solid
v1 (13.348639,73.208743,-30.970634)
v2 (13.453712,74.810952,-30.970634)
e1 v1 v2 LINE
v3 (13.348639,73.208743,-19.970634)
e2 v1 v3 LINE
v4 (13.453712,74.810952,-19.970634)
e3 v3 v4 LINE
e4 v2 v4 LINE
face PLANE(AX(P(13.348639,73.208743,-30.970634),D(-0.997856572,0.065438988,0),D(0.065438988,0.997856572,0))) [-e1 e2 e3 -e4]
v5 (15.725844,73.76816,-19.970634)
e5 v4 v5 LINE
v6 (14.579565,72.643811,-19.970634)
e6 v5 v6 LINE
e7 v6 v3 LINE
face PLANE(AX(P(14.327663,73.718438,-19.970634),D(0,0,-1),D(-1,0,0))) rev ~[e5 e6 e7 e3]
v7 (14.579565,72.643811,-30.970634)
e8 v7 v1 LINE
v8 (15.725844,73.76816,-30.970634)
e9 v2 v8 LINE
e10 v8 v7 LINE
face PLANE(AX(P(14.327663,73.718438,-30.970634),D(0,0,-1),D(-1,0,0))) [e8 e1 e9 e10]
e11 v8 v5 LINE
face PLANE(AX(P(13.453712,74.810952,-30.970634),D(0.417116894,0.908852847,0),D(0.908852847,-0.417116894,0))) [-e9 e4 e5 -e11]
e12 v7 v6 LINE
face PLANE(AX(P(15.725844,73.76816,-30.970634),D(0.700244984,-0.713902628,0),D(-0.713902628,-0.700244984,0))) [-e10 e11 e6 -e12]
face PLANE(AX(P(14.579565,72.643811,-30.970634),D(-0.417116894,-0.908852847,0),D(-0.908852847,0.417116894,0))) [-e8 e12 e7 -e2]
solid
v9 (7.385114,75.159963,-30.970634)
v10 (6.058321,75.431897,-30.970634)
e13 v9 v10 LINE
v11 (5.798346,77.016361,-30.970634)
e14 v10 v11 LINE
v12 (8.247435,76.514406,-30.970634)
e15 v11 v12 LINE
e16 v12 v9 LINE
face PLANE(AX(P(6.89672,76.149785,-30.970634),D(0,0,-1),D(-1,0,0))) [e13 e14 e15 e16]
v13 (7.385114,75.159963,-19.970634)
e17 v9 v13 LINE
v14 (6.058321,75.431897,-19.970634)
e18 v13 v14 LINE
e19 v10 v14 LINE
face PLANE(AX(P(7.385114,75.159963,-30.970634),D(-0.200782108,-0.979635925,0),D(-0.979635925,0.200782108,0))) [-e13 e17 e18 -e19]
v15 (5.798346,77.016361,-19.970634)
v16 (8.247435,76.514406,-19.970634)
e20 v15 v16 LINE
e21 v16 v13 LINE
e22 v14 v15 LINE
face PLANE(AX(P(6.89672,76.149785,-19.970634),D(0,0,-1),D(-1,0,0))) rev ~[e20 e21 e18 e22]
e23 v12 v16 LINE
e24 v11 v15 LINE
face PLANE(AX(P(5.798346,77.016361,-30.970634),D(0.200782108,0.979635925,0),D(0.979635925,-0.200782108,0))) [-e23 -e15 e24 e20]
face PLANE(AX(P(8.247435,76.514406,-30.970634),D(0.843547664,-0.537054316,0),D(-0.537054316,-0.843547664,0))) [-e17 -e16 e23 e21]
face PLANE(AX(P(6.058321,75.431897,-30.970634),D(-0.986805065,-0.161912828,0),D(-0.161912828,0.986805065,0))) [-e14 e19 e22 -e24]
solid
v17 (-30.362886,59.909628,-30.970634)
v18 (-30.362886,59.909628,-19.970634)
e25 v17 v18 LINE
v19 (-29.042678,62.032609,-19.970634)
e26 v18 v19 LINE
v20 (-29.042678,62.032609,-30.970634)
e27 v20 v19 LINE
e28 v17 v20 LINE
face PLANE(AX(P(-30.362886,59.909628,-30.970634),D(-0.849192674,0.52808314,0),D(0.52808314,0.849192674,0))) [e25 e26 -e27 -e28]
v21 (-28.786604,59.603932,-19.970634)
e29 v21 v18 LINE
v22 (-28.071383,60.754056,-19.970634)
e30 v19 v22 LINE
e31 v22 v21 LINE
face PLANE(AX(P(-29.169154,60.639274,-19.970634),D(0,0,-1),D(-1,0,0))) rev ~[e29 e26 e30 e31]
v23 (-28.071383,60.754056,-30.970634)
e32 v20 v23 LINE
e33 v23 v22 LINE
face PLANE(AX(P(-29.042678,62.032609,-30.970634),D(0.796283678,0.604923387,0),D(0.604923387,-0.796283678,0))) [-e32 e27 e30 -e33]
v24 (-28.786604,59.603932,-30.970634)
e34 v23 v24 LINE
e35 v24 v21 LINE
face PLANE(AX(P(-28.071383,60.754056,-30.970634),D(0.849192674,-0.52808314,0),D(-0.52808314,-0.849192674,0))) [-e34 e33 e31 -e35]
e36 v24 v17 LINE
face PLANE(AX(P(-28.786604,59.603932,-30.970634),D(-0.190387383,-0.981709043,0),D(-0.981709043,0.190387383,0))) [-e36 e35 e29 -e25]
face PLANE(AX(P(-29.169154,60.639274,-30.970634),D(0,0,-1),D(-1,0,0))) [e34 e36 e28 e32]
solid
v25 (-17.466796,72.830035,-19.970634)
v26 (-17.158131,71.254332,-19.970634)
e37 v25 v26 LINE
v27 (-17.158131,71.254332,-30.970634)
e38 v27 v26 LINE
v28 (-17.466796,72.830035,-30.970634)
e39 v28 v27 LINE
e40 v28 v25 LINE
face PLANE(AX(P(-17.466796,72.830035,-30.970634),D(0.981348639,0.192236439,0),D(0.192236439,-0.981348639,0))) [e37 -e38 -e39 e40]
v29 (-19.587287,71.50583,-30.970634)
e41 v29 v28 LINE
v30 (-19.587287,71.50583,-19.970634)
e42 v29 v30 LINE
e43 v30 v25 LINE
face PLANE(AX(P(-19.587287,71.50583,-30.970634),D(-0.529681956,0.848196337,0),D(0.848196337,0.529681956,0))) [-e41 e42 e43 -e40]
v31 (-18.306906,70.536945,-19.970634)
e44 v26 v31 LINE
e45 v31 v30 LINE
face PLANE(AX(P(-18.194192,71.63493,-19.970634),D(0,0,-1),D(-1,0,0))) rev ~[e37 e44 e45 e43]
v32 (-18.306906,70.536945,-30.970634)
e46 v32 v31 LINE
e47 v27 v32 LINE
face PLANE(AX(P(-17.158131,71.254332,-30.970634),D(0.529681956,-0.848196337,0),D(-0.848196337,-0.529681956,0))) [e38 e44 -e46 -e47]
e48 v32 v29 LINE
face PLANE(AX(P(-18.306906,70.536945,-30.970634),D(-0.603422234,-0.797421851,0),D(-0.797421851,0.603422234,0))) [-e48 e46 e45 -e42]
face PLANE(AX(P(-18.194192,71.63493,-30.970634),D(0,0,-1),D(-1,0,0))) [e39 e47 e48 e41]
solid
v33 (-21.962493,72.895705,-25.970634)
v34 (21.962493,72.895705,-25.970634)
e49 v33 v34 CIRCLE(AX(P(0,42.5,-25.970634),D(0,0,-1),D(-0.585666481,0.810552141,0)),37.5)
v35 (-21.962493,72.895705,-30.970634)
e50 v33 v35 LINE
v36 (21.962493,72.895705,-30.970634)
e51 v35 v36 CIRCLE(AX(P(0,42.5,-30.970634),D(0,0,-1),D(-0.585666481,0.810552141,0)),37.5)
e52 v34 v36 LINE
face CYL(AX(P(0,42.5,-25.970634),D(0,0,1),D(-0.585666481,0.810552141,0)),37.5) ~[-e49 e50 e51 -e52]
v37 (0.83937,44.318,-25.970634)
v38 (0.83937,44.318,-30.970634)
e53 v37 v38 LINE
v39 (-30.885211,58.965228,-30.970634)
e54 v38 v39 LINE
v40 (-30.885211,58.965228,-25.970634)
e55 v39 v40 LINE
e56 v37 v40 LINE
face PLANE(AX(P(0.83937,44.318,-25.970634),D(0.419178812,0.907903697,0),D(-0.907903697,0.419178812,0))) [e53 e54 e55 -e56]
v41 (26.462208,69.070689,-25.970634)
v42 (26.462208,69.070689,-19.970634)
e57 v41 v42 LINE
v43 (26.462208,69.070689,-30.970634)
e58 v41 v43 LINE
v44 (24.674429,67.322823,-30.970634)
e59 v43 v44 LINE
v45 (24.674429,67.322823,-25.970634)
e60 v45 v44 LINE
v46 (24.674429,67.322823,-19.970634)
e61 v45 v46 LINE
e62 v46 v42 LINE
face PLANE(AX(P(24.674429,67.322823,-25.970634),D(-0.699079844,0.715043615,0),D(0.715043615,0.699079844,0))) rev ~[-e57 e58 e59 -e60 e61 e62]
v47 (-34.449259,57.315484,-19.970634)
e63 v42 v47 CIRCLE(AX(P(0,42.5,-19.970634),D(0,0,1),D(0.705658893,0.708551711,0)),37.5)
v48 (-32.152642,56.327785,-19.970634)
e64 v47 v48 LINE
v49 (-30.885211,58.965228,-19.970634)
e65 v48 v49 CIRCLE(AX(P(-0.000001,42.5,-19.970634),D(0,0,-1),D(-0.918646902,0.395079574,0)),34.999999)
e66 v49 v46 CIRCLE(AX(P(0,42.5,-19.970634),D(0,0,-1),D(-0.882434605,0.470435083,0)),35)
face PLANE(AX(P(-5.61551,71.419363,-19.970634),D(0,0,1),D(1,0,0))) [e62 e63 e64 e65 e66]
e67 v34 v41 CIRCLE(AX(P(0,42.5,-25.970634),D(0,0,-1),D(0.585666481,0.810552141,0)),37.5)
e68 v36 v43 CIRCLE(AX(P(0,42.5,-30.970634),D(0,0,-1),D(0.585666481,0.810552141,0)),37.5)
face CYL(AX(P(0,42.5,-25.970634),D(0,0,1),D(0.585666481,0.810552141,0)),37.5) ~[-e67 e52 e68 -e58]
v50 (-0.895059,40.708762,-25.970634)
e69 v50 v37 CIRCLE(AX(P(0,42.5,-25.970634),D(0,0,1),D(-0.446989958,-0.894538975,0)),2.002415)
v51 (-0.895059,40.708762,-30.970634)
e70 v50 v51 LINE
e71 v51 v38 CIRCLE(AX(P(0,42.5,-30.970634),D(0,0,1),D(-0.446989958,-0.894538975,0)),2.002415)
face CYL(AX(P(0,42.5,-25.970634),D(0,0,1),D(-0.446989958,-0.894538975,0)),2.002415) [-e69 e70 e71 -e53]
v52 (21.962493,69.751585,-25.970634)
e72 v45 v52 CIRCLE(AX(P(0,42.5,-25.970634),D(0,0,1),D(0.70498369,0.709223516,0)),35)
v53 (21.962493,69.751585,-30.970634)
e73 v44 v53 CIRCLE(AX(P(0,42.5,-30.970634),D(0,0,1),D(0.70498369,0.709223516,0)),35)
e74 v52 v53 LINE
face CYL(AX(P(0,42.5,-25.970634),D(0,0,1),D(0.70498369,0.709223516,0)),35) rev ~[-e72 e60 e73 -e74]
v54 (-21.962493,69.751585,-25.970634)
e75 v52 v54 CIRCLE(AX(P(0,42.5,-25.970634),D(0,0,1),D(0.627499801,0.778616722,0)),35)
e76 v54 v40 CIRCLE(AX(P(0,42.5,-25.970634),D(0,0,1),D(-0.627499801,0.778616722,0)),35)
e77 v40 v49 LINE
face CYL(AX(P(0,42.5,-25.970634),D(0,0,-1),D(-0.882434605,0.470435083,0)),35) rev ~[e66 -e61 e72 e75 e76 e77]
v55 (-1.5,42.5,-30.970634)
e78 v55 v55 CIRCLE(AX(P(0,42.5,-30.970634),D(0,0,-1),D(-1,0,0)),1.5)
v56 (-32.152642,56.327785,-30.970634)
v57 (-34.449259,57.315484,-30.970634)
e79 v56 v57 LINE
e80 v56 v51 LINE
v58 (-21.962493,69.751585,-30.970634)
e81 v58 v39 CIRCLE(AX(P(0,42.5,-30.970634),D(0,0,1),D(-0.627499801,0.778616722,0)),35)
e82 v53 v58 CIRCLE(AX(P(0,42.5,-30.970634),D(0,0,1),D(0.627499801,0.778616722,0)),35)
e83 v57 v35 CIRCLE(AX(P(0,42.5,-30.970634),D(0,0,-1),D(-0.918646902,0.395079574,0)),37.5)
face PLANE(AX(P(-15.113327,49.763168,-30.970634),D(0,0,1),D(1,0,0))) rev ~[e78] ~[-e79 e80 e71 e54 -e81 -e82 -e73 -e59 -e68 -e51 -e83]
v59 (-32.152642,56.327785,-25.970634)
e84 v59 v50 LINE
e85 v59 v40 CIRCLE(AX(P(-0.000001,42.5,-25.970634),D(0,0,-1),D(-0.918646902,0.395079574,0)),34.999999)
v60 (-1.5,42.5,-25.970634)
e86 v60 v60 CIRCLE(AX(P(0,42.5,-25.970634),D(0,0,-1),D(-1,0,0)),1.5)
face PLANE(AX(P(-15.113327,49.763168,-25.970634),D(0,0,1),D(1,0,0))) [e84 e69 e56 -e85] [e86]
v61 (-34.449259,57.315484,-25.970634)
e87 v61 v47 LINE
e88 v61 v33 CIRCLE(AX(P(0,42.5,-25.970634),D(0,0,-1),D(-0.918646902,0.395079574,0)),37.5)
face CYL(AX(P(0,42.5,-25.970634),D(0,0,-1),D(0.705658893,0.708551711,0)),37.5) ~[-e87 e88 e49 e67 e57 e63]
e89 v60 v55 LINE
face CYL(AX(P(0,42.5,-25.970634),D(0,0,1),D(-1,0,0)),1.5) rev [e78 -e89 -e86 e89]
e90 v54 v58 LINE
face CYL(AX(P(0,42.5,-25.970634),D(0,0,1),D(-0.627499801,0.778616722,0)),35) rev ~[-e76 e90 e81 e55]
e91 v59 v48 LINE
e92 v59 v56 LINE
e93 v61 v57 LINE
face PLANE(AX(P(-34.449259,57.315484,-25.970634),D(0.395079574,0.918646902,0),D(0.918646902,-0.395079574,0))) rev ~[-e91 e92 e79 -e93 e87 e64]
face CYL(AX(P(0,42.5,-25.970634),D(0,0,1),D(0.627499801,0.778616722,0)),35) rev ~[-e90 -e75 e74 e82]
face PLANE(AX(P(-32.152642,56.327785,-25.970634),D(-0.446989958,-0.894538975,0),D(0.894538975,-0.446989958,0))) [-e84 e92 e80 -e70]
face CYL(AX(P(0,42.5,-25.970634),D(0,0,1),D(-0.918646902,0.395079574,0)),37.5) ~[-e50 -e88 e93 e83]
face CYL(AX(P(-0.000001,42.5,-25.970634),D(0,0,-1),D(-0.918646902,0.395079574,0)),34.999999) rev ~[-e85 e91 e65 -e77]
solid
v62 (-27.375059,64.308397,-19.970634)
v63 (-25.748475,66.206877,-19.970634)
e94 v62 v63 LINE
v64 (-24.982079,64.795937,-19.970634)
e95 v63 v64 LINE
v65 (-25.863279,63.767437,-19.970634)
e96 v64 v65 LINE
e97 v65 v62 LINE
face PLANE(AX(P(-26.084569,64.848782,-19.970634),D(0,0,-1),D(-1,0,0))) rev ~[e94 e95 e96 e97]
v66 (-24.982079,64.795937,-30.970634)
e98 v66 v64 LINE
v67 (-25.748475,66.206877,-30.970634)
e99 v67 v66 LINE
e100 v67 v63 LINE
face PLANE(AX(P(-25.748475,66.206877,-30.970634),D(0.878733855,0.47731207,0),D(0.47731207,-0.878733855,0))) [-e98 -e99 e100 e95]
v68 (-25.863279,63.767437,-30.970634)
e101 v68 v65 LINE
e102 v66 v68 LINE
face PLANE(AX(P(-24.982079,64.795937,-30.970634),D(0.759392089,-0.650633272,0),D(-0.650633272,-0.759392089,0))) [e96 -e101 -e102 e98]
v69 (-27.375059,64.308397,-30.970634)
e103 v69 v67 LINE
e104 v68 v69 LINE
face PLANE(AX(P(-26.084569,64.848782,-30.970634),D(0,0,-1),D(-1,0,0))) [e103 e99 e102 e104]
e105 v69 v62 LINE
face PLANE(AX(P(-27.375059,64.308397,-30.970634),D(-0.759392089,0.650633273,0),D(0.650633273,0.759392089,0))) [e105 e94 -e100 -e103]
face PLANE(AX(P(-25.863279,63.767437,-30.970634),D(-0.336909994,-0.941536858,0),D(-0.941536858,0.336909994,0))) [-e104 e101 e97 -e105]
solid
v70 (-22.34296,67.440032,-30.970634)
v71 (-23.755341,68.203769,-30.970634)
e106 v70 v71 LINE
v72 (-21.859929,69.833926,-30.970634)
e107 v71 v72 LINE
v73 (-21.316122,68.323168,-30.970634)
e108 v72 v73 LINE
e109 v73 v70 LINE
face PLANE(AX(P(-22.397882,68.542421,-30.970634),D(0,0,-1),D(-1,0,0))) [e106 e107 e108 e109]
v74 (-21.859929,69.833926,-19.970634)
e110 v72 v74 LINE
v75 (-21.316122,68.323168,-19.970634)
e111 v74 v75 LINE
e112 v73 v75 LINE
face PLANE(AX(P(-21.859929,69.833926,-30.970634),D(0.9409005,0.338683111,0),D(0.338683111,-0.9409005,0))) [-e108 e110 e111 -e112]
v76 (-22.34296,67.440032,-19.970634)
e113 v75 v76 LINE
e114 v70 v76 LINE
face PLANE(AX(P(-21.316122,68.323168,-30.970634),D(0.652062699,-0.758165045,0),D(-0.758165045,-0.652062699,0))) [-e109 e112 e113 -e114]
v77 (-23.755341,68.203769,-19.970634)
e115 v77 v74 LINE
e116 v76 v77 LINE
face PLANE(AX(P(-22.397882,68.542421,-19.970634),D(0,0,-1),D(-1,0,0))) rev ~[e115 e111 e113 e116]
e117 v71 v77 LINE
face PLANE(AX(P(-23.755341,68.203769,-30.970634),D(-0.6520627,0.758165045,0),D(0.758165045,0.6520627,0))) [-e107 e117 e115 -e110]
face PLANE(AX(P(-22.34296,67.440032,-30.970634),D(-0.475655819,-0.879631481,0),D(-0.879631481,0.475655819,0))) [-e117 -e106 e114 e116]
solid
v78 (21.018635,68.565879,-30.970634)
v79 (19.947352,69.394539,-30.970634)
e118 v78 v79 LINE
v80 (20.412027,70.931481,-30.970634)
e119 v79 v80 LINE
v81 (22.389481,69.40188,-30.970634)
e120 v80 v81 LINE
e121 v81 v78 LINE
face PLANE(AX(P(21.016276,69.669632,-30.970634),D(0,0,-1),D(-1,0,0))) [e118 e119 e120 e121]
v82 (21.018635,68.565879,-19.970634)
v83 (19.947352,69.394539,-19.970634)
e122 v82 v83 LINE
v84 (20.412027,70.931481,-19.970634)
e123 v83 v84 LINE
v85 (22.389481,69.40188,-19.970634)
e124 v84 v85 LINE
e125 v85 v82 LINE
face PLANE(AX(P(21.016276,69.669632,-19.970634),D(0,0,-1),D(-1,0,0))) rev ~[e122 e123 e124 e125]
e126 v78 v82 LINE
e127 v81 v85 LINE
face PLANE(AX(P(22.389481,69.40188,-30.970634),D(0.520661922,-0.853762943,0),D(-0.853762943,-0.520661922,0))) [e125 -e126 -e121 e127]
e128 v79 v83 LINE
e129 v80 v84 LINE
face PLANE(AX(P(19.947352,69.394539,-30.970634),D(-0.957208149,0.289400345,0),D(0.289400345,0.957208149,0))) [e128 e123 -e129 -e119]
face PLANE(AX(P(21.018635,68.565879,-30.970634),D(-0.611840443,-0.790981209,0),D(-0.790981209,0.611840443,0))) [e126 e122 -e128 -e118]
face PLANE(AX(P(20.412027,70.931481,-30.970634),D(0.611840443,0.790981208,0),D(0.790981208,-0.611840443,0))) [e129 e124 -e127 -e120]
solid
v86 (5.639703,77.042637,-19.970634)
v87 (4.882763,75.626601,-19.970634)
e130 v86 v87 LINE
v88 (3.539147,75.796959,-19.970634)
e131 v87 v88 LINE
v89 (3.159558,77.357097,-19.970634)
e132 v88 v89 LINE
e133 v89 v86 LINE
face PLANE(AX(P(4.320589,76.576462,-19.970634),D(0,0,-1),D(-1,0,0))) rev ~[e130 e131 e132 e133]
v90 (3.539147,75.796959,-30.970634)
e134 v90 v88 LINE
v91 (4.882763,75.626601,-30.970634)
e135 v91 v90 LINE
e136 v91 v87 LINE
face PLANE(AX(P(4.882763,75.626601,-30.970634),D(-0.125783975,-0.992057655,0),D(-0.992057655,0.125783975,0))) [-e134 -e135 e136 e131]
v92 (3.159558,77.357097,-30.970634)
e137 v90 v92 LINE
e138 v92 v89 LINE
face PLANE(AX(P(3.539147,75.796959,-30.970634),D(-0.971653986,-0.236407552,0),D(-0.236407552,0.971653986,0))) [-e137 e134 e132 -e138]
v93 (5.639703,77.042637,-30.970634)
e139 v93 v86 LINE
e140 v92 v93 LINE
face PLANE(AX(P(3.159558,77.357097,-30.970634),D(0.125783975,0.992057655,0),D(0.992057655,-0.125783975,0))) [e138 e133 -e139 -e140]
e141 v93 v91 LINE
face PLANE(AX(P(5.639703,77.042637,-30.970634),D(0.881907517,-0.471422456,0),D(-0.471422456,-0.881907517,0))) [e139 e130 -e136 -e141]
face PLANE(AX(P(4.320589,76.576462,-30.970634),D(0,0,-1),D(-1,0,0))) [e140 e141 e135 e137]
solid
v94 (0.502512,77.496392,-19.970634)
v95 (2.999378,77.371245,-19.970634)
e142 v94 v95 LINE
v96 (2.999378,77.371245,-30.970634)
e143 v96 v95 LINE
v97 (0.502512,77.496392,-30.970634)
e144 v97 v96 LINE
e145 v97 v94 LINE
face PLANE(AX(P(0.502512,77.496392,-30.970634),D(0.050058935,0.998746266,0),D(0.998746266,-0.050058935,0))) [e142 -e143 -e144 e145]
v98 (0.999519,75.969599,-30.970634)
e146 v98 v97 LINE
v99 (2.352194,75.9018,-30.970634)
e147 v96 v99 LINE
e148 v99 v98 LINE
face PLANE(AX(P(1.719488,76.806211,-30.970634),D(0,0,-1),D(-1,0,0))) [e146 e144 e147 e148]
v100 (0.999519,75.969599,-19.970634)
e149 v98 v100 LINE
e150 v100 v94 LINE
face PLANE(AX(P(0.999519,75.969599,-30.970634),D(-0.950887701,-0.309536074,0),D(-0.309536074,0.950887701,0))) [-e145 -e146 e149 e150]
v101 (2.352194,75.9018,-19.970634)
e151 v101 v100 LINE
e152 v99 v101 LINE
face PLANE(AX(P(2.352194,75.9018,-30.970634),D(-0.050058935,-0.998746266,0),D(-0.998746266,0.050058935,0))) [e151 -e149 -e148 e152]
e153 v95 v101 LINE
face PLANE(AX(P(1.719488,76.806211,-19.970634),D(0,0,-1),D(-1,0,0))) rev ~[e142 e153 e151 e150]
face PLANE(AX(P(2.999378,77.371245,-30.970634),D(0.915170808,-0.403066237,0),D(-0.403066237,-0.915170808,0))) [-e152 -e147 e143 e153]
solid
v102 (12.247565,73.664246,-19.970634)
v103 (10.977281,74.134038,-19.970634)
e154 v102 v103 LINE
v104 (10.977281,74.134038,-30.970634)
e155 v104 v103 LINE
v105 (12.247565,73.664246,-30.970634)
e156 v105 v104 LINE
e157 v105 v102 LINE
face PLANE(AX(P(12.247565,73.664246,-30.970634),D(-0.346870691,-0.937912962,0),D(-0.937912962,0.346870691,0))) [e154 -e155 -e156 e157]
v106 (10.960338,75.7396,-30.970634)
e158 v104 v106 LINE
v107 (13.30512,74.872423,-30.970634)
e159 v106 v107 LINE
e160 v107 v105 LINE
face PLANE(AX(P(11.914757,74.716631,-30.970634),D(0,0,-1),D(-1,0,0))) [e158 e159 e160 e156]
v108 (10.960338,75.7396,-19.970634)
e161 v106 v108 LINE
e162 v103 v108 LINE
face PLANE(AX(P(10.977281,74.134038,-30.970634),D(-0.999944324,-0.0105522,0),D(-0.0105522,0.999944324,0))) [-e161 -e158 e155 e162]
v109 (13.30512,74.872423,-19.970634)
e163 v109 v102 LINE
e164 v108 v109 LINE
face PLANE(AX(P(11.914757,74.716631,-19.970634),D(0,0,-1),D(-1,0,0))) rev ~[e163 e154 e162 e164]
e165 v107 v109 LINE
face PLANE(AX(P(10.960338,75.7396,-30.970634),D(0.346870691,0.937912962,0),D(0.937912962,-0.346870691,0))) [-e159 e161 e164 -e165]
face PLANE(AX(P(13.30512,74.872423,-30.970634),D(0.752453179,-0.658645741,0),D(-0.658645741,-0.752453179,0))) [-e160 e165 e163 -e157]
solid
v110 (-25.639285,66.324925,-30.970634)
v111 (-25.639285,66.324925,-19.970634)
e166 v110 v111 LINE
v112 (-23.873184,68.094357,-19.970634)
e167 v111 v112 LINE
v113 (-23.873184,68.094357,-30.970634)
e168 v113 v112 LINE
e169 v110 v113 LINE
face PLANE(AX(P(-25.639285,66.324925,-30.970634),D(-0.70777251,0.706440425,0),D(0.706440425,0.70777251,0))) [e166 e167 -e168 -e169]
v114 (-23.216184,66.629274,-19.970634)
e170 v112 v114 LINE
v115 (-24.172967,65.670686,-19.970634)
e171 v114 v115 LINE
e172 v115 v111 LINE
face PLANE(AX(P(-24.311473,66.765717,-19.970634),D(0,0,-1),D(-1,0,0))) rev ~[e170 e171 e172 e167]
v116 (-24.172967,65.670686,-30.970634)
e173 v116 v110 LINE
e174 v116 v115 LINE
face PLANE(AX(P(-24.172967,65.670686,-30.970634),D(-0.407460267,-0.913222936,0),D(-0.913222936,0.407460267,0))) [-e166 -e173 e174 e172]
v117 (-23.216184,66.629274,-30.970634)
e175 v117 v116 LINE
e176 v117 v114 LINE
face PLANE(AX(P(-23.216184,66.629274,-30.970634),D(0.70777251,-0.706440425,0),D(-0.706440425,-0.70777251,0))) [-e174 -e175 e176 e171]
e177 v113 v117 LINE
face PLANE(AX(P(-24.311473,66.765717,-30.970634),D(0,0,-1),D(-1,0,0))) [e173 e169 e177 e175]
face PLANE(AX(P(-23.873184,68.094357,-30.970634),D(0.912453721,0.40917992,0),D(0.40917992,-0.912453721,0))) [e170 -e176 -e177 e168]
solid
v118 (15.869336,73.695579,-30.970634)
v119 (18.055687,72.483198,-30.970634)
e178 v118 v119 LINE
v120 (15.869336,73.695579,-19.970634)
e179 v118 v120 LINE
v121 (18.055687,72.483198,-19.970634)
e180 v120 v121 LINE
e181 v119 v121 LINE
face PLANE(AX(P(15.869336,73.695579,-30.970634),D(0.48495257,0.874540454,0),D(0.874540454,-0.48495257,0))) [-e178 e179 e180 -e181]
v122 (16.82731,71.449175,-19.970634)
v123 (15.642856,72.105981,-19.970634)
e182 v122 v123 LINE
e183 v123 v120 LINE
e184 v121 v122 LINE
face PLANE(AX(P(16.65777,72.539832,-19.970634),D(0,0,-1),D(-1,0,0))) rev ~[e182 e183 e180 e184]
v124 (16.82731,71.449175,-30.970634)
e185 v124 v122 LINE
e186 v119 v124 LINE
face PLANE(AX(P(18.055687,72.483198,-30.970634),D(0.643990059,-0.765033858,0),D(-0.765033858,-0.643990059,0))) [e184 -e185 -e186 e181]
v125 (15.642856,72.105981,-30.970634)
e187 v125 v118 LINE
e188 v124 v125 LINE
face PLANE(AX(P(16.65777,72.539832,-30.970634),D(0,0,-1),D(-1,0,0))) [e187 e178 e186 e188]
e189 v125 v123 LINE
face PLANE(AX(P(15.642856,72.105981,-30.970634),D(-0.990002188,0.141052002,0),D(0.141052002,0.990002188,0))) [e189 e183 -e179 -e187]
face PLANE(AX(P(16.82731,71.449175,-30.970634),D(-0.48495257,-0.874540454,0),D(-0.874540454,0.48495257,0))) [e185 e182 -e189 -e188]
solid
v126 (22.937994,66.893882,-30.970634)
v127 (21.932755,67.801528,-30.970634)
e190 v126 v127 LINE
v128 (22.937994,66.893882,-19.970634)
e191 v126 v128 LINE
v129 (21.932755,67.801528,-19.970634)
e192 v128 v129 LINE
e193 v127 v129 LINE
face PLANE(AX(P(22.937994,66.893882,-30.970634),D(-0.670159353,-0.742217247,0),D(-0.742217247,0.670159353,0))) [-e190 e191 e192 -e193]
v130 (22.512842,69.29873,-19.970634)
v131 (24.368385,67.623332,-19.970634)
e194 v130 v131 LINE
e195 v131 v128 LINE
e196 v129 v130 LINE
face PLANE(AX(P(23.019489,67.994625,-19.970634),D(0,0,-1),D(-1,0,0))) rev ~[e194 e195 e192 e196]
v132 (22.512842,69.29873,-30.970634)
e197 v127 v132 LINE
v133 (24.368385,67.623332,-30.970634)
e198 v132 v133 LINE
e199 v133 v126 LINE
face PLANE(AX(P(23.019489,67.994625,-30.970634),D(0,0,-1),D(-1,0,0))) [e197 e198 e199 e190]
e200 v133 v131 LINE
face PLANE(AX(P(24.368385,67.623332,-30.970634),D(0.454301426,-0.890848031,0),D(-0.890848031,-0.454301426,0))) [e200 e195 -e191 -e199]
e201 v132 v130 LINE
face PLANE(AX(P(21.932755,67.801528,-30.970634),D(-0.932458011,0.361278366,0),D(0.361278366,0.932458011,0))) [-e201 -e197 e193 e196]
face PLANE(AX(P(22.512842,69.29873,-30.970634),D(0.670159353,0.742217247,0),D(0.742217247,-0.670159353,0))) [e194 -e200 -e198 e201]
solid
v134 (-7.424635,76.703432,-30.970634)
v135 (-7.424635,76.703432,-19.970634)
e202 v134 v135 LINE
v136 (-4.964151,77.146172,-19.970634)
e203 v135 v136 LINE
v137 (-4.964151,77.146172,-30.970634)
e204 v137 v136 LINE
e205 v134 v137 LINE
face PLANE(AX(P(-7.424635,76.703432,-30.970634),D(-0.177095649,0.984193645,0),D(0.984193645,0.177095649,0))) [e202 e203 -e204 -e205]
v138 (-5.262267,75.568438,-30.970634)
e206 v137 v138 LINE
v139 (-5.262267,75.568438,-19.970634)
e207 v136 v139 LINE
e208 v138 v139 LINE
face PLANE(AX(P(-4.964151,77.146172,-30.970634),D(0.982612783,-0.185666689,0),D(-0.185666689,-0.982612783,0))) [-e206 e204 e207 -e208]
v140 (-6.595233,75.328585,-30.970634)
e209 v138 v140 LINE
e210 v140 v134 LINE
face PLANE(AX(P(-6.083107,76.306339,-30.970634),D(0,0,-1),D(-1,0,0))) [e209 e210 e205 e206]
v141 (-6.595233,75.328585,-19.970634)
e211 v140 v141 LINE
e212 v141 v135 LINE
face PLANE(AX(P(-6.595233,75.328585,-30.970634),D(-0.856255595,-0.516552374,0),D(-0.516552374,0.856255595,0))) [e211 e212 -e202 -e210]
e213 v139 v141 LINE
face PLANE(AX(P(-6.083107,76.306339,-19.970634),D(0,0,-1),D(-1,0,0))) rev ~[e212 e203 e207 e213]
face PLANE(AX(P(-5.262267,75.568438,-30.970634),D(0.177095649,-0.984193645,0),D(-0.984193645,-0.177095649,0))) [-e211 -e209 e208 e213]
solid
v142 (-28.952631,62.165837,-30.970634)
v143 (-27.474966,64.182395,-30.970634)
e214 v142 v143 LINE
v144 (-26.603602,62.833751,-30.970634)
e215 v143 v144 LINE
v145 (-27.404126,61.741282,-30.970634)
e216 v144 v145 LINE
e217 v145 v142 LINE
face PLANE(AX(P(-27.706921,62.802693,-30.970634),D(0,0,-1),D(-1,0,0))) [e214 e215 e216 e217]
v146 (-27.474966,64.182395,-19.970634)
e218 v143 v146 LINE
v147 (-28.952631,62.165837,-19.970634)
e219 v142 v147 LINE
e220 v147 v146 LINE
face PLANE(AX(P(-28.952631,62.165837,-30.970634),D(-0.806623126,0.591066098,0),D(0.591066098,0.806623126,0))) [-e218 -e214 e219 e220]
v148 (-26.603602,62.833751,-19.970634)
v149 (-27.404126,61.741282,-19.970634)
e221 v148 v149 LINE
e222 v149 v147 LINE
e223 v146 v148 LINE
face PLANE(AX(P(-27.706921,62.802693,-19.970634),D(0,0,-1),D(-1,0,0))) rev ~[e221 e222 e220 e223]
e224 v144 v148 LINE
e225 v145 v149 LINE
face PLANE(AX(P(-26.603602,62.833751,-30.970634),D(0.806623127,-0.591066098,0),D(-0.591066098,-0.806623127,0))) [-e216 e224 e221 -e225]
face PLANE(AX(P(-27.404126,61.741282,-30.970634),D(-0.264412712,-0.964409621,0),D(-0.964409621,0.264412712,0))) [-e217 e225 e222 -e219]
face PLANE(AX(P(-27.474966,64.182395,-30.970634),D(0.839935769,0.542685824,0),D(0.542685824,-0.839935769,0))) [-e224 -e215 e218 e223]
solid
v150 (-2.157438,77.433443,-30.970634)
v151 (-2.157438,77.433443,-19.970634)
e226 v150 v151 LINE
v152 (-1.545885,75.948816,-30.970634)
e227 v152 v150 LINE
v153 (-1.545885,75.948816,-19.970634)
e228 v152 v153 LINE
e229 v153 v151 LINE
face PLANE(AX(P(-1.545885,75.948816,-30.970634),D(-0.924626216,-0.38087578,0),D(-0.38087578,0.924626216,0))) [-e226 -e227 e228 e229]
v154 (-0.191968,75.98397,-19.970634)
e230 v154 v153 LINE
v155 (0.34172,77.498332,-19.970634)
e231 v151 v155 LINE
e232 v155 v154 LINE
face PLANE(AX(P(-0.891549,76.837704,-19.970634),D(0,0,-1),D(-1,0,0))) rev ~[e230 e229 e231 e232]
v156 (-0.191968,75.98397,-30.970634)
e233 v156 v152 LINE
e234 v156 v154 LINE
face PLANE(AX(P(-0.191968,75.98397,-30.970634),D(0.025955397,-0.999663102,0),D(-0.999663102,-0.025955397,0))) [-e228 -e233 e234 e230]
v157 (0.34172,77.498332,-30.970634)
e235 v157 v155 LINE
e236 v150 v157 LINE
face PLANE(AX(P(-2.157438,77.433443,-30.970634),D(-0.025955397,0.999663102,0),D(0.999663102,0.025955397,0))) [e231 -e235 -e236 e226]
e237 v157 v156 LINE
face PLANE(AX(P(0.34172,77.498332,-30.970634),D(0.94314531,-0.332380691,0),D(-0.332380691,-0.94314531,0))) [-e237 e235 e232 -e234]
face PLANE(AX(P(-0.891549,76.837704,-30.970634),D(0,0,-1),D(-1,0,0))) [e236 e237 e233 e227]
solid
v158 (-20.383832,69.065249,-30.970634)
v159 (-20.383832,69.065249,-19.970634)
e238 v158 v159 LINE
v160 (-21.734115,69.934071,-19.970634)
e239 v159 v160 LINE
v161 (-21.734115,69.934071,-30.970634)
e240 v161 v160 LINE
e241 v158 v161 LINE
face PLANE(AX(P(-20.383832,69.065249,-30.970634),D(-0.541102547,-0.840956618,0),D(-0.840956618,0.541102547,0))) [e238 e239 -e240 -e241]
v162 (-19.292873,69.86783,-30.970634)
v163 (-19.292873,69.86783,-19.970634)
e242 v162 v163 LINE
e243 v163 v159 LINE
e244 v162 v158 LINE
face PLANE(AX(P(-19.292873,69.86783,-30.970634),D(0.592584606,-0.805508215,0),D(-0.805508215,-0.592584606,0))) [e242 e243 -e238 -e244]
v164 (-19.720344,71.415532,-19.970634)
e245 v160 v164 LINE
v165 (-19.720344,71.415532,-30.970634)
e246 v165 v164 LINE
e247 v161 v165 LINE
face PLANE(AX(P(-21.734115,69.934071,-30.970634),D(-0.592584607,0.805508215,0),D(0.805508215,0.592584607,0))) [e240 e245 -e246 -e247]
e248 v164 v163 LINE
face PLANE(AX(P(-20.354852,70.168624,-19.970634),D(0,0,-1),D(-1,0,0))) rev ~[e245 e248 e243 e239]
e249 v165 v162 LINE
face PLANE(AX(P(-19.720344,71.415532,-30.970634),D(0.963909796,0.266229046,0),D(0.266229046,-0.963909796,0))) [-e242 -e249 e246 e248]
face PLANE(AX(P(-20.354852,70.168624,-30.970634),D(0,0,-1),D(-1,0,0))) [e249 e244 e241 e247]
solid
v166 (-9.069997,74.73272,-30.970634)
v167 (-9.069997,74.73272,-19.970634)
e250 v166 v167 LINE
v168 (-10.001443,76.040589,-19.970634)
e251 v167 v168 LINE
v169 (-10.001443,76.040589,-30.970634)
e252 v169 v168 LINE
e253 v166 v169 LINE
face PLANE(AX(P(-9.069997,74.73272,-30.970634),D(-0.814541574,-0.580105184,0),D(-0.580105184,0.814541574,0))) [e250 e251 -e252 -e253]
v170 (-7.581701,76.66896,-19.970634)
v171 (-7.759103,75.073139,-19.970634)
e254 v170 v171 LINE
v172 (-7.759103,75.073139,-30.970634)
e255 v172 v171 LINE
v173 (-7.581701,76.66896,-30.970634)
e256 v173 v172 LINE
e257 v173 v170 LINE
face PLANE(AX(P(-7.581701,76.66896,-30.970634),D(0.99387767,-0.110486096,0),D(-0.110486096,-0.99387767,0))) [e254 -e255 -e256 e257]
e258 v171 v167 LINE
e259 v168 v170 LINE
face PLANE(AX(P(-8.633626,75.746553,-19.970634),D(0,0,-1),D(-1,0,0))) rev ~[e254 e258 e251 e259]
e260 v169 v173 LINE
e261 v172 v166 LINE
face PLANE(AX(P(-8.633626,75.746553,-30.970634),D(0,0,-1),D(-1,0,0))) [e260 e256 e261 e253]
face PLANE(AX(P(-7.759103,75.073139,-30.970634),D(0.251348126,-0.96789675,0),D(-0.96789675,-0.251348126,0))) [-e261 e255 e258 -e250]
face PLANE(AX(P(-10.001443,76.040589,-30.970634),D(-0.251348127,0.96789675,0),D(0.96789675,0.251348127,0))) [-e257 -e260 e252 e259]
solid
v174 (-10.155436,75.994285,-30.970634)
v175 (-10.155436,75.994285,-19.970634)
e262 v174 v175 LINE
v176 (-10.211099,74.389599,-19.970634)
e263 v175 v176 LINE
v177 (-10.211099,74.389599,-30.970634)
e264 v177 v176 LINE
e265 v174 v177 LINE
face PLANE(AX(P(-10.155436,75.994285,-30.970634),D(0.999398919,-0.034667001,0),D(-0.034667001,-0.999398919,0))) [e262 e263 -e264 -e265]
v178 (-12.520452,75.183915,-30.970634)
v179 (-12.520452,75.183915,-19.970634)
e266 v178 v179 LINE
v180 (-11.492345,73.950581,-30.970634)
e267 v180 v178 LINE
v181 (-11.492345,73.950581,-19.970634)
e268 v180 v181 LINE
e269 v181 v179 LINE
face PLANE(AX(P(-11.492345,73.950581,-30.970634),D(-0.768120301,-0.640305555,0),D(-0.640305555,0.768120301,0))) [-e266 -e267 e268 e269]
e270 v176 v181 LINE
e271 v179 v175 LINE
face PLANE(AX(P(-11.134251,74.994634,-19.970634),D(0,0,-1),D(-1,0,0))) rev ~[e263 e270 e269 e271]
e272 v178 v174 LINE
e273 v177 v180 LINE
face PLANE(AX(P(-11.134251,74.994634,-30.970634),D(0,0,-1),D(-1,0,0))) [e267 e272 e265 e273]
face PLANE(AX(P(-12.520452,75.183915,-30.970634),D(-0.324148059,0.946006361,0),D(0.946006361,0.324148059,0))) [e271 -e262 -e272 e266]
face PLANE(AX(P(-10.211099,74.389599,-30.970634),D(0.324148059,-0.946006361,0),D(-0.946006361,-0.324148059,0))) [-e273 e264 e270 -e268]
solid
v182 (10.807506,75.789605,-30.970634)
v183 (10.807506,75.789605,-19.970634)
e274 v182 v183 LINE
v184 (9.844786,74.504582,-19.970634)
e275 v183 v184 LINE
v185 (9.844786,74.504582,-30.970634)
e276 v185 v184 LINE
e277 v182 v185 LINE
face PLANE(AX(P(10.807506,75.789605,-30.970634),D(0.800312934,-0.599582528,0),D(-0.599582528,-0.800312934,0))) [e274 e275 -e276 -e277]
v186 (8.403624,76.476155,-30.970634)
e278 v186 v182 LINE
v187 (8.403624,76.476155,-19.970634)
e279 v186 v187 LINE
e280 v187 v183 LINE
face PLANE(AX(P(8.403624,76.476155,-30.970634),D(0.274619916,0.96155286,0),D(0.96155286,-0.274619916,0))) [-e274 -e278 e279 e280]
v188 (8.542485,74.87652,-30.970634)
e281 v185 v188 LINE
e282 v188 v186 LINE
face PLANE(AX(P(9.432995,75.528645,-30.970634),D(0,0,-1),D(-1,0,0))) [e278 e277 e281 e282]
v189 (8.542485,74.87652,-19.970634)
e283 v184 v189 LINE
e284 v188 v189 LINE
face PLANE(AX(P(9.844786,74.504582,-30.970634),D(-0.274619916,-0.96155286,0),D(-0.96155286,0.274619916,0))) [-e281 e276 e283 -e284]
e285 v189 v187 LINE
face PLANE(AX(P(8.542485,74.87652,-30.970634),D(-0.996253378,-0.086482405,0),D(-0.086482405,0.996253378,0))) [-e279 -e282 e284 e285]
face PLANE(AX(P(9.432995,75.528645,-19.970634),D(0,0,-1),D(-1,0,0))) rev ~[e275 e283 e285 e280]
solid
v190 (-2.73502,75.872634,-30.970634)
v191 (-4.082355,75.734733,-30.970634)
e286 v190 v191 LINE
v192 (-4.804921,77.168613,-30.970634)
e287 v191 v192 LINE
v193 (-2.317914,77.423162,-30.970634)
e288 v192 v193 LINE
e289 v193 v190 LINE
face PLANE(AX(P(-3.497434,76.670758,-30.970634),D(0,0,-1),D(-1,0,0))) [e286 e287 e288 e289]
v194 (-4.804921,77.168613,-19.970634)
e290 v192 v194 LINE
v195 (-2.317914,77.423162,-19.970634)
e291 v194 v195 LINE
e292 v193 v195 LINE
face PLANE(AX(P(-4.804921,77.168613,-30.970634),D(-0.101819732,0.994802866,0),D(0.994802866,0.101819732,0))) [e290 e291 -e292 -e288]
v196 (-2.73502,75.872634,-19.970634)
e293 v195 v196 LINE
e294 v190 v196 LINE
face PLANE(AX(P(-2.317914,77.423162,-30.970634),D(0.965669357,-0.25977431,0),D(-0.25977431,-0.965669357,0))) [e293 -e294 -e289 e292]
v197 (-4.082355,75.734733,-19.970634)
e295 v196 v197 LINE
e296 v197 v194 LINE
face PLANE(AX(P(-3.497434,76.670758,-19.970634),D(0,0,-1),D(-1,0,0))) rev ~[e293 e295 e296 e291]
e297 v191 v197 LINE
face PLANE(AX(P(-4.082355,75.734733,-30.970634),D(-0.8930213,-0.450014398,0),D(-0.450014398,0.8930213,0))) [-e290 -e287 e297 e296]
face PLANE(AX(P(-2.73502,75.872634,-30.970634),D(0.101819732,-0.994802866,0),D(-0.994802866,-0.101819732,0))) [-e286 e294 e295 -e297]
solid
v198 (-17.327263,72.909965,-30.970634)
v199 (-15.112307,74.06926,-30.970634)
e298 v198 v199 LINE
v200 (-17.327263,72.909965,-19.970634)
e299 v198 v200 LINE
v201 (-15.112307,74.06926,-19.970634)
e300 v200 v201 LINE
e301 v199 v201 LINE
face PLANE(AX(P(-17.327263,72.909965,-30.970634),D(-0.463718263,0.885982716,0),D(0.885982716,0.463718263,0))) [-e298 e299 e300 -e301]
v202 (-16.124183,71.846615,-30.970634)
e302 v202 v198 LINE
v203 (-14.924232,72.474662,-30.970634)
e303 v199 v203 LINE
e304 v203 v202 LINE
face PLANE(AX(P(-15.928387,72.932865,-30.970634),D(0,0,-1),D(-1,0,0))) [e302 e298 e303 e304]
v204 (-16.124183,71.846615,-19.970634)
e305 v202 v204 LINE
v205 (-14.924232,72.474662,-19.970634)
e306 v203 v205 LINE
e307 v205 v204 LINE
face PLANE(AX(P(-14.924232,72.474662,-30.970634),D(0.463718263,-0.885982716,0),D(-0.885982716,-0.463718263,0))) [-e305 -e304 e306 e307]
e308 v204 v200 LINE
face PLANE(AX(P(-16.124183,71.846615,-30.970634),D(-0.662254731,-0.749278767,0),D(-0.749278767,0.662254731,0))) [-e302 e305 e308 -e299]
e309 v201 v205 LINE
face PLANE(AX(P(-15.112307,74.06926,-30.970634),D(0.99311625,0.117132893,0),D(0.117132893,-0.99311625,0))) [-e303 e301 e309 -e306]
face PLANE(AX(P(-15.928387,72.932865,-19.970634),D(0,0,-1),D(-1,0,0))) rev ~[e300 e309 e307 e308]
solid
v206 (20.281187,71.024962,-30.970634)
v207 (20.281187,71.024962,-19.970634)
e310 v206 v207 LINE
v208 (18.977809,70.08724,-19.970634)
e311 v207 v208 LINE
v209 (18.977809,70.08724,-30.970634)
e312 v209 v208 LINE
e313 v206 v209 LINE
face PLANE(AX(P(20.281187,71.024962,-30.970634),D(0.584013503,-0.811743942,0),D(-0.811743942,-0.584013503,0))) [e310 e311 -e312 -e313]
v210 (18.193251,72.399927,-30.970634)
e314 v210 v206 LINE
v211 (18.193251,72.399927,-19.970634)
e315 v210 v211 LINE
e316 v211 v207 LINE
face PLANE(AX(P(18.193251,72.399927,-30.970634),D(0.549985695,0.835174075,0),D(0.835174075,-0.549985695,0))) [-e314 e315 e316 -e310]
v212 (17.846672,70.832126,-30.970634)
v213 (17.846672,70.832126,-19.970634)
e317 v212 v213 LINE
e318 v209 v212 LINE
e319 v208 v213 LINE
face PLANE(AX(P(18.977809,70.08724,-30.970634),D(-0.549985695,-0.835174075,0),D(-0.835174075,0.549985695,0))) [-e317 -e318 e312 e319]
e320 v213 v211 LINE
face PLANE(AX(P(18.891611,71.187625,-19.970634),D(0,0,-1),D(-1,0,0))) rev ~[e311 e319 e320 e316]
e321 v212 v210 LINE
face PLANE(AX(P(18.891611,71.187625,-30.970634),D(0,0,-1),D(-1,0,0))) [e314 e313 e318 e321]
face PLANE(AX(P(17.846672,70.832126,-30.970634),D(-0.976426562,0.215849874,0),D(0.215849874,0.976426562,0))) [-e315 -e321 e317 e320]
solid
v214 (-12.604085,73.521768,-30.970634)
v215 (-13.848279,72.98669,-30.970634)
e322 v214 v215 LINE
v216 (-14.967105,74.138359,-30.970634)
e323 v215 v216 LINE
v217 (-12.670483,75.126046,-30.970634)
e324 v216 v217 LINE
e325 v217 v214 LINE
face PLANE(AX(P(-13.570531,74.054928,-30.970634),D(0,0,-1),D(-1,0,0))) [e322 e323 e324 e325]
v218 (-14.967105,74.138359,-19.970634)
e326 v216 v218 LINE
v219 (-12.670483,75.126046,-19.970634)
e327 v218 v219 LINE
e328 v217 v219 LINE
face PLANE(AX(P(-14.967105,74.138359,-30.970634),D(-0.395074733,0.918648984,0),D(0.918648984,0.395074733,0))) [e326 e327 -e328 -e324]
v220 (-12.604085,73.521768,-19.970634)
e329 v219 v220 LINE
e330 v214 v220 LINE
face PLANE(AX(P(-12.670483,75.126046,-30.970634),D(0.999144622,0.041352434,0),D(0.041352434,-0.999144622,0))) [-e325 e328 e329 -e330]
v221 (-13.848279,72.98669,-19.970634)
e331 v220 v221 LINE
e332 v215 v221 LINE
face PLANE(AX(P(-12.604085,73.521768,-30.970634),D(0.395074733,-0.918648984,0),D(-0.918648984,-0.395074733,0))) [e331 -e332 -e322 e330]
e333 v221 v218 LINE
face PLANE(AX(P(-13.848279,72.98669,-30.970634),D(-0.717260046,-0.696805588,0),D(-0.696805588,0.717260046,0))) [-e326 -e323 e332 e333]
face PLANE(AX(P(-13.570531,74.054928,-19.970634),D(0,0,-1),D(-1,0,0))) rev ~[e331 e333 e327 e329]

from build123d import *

# Parameters (mm, degrees)
BOSS_EXTRUDE1_DEPTH    = 5
BOSS_EXTRUDE2_DEPTH    = 11
BOSS_EXTRUDE2_2_DEPTH  = 11
BOSS_EXTRUDE2_3_DEPTH  = 11
BOSS_EXTRUDE2_4_DEPTH  = 11
BOSS_EXTRUDE2_5_DEPTH  = 11
BOSS_EXTRUDE2_6_DEPTH  = 11
BOSS_EXTRUDE2_7_DEPTH  = 11
BOSS_EXTRUDE2_8_DEPTH  = 11
BOSS_EXTRUDE2_9_DEPTH  = 11
BOSS_EXTRUDE2_10_DEPTH = 11
BOSS_EXTRUDE2_11_DEPTH = 11
BOSS_EXTRUDE2_12_DEPTH = 11
BOSS_EXTRUDE2_13_DEPTH = 11
BOSS_EXTRUDE2_14_DEPTH = 11
BOSS_EXTRUDE2_15_DEPTH = 11
BOSS_EXTRUDE2_16_DEPTH = 11
BOSS_EXTRUDE2_17_DEPTH = 11
BOSS_EXTRUDE2_18_DEPTH = 11
BOSS_EXTRUDE2_19_DEPTH = 11
BOSS_EXTRUDE2_20_DEPTH = 11
BOSS_EXTRUDE2_21_DEPTH = 11
BOSS_EXTRUDE2_22_DEPTH = 11
BOSS_EXTRUDE2_23_DEPTH = 11
BOSS_EXTRUDE2_24_DEPTH = 11
SKETCH5_R              = 1.5
BOSS_EXTRUDE8_DEPTH    = 5
BOSS_EXTRUDE9_DEPTH    = 6


with BuildPart() as part:
    # Sketch3 → Boss-Extrude1 (new body)
    with BuildSketch(Plane(origin=(0, 0, -25.970633743), x_dir=(-1, 0, 0), z_dir=(0, 0, -1))):
        with BuildLine():
            Line((21.962493028, 72.895705289), (21.962493028, 69.751585275))
            ThreePointArc((21.962493028, 69.751585275), (27.877617379, 63.662193868), (32.152641561, 56.327785096))
            Line((32.152641561, 56.327785096), (34.449258815, 57.315484031))
            ThreePointArc((34.449258815, 57.315484031), (29.261873831, 65.951924012), (21.962493028, 72.895705289))
        make_face()
        with BuildLine():
            Line((-21.962493028, 72.895705289), (-21.962493028, 69.751585275))
            ThreePointArc((-21.962493028, 69.751585275), (0, 77.5), (21.962493028, 69.751585275))
            Line((21.962493028, 69.751585275), (21.962493028, 72.895705289))
            ThreePointArc((21.962493028, 72.895705289), (0, 80), (-21.962493028, 72.895705289))
        make_face()
        with BuildLine():
            ThreePointArc((-24.674429164, 67.322823075), (-23.350061014, 68.572488386), (-21.962493028, 69.751585275))
            Line((-21.962493028, 69.751585275), (-21.962493028, 72.895705289))
            ThreePointArc((-21.962493028, 72.895705289), (-24.287766799, 71.071916), (-26.462208479, 69.07068916))
            Line((-26.462208479, 69.07068916), (-24.674429164, 67.322823075))
        make_face()
    extrude(amount=BOSS_EXTRUDE1_DEPTH)

    # Sketch5 → Boss-Extrude8 (add)
    with BuildSketch(Plane(origin=(0, 0, -25.970633743), x_dir=(-1, 0, 0), z_dir=(0, 0, -1))):
        with BuildLine():
            Line((32.152641561, 56.327785096), (0.895059482, 40.708761567))
            ThreePointArc((0.895059482, 40.708761567), (-1.8048341, 41.632682024), (-0.83937002, 44.318000156))
            Line((-0.83937002, 44.318000156), (30.896006649, 58.970212188))
            Line((30.896006649, 58.970212188), (30.993391948, 59.013023922))
            Line((30.993391948, 59.013023922), (32.238400019, 56.371276085))
            Line((32.238400019, 56.371276085), (32.152641561, 56.327785096))
        make_face()
        with Locations((0, 42.5)):
            Circle(SKETCH5_R, mode=Mode.SUBTRACT)
    extrude(amount=BOSS_EXTRUDE8_DEPTH)

    # Sketch6 → Boss-Extrude9 (add)
    with BuildSketch(Plane.XY.offset(-25.970633743)):
        with BuildLine():
            Line((24.674429164, 67.322823075), (26.462208479, 69.07068916))
            ThreePointArc((26.462208479, 69.07068916), (-7.105945059, 79.320585884), (-34.449258815, 57.315484031))
            Line((-34.449258815, 57.315484031), (-32.152641561, 56.327785096))
            ThreePointArc((-32.152641561, 56.327785096), (-31.546501322, 57.659757728), (-30.885211177, 58.965227922))
            ThreePointArc((-30.885211177, 58.965227922), (-5.206323318, 77.110608164), (24.674429164, 67.322823075))
        make_face()
    extrude(amount=BOSS_EXTRUDE9_DEPTH)


with BuildPart() as body_2:
    # Sketch4 → Boss-Extrude2 (new body)
    with BuildSketch(Plane(origin=(0, 0, -30.970633743), x_dir=(-1, 0, 0), z_dir=(0, 0, -1))):
        Polygon((-22.512842113, 69.298730194), (-24.36838523, 67.623331811), (-22.937994157, 66.893882252), (-21.932755127, 67.801528013), align=None)
    extrude(amount=-BOSS_EXTRUDE2_DEPTH)


with BuildPart() as body_3:
    # Sketch4 → Boss-Extrude2 2 (new body)
    with BuildSketch(Plane(origin=(0, 0, -30.970633743), x_dir=(-1, 0, 0), z_dir=(0, 0, -1))):
        Polygon((-19.947351518, 69.394539123), (-20.412027485, 70.931481389), (-22.389480506, 69.401880281), (-21.018635143, 68.565878922), align=None)
    extrude(amount=-BOSS_EXTRUDE2_2_DEPTH)


with BuildPart() as body_4:
    # Sketch4 → Boss-Extrude2 3 (new body)
    with BuildSketch(Plane(origin=(0, 0, -30.970633743), x_dir=(-1, 0, 0), z_dir=(0, 0, -1))):
        Polygon((-17.846671781, 70.832126174), (-18.193251357, 72.399926506), (-20.281186543, 71.024962268), (-18.977809033, 70.087240376), align=None)
    extrude(amount=-BOSS_EXTRUDE2_3_DEPTH)


with BuildPart() as body_5:
    # Sketch4 → Boss-Extrude2 4 (new body)
    with BuildSketch(Plane(origin=(0, 0, -30.970633743), x_dir=(-1, 0, 0), z_dir=(0, 0, -1))):
        Polygon((-15.642855785, 72.105981324), (-15.869336079, 73.695579373), (-18.055687213, 72.483197949), (-16.827309799, 71.449174637), align=None)
    extrude(amount=-BOSS_EXTRUDE2_4_DEPTH)


with BuildPart() as body_6:
    # Sketch4 → Boss-Extrude2 5 (new body)
    with BuildSketch(Plane(origin=(0, 0, -30.970633743), x_dir=(-1, 0, 0), z_dir=(0, 0, -1))):
        Polygon((-13.348639424, 73.208742937), (-13.453711603, 74.810952386), (-15.72584372, 73.768160152), (-14.579565218, 72.643811061), align=None)
    extrude(amount=-BOSS_EXTRUDE2_5_DEPTH)


with BuildPart() as body_7:
    # Sketch4 → Boss-Extrude2 6 (new body)
    with BuildSketch(Plane(origin=(0, 0, -30.970633743), x_dir=(-1, 0, 0), z_dir=(0, 0, -1))):
        Polygon((-10.977281019, 74.134038134), (-10.960337868, 75.739599784), (-13.305120273, 74.872423056), (-12.247565049, 73.664245821), align=None)
    extrude(amount=-BOSS_EXTRUDE2_6_DEPTH)


with BuildPart() as body_8:
    # Sketch4 → Boss-Extrude2 7 (new body)
    with BuildSketch(Plane(origin=(0, 0, -30.970633743), x_dir=(-1, 0, 0), z_dir=(0, 0, -1))):
        Polygon((-8.542484695, 74.876519616), (-8.403624131, 76.476154895), (-10.807506279, 75.789605105), (-9.844785966, 74.504581805), align=None)
    extrude(amount=-BOSS_EXTRUDE2_7_DEPTH)


with BuildPart() as body_9:
    # Sketch4 → Boss-Extrude2 8 (new body)
    with BuildSketch(Plane(origin=(0, 0, -30.970633743), x_dir=(-1, 0, 0), z_dir=(0, 0, -1))):
        Polygon((-6.058321189, 75.431896569), (-5.798345687, 77.016361154), (-8.2474355, 76.514405885), (-7.385113675, 75.159962695), align=None)
    extrude(amount=-BOSS_EXTRUDE2_8_DEPTH)


with BuildPart() as body_10:
    # Sketch4 → Boss-Extrude2 9 (new body)
    with BuildSketch(Plane(origin=(0, 0, -30.970633743), x_dir=(-1, 0, 0), z_dir=(0, 0, -1))):
        Polygon((-3.539146527, 75.796959457), (-3.159558493, 77.357096697), (-5.639702631, 77.042636759), (-4.882762671, 75.626601032), align=None)
    extrude(amount=-BOSS_EXTRUDE2_9_DEPTH)


with BuildPart() as body_11:
    # Sketch4 → Boss-Extrude2 10 (new body)
    with BuildSketch(Plane(origin=(0, 0, -30.970633743), x_dir=(-1, 0, 0), z_dir=(0, 0, -1))):
        Polygon((-0.99951907, 75.969598576), (-0.502512149, 77.496392408), (-2.999377813, 77.37124507), (-2.352194087, 75.901800104), align=None)
    extrude(amount=-BOSS_EXTRUDE2_10_DEPTH)


with BuildPart() as body_12:
    # Sketch4 → Boss-Extrude2 11 (new body)
    with BuildSketch(Plane(origin=(0, 0, -30.970633743), x_dir=(-1, 0, 0), z_dir=(0, 0, -1))):
        Polygon((1.545884627, 75.948816241), (2.157438222, 77.433443293), (-0.341719532, 77.498331785), (0.191967872, 75.983969531), align=None)
    extrude(amount=-BOSS_EXTRUDE2_11_DEPTH)


with BuildPart() as body_13:
    # Sketch4 → Boss-Extrude2 12 (new body)
    with BuildSketch(Plane(origin=(0, 0, -30.970633743), x_dir=(-1, 0, 0), z_dir=(0, 0, -1))):
        Polygon((4.082354628, 75.734732554), (4.804920717, 77.168613138), (2.317913552, 77.423162468), (2.735020445, 75.872634454), align=None)
    extrude(amount=-BOSS_EXTRUDE2_12_DEPTH)


with BuildPart() as body_14:
    # Sketch4 → Boss-Extrude2 13 (new body)
    with BuildSketch(Plane(origin=(0, 0, -30.970633743), x_dir=(-1, 0, 0), z_dir=(0, 0, -1))):
        Polygon((6.595232622, 75.328584708), (7.424635482, 76.7034324), (4.964151369, 77.146171523), (5.262267282, 75.56843828), align=None)
    extrude(amount=-BOSS_EXTRUDE2_13_DEPTH)


with BuildPart() as body_15:
    # Sketch4 → Boss-Extrude2 14 (new body)
    with BuildSketch(Plane(origin=(0, 0, -30.970633743), x_dir=(-1, 0, 0), z_dir=(0, 0, -1))):
        Polygon((9.06999664, 74.732719839), (10.001443135, 76.040589369), (7.58170126, 76.668959686), (7.759103375, 75.073138965), align=None)
    extrude(amount=-BOSS_EXTRUDE2_14_DEPTH)


with BuildPart() as body_16:
    # Sketch4 → Boss-Extrude2 15 (new body)
    with BuildSketch(Plane(origin=(0, 0, -30.970633743), x_dir=(-1, 0, 0), z_dir=(0, 0, -1))):
        Polygon((11.492344973, 73.950581461), (12.520452257, 75.183914626), (10.155436353, 75.994284773), (10.21109946, 74.389598854), align=None)
    extrude(amount=-BOSS_EXTRUDE2_15_DEPTH)


with BuildPart() as body_17:
    # Sketch4 → Boss-Extrude2 16 (new body)
    with BuildSketch(Plane(origin=(0, 0, -30.970633743), x_dir=(-1, 0, 0), z_dir=(0, 0, -1))):
        Polygon((13.848278823, 72.986689569), (14.967105444, 74.138358912), (12.670482985, 75.126045745), (12.604085406, 73.521768137), align=None)
    extrude(amount=-BOSS_EXTRUDE2_16_DEPTH)


with BuildPart() as body_18:
    # Sketch4 → Boss-Extrude2 17 (new body)
    with BuildSketch(Plane(origin=(0, 0, -30.970633743), x_dir=(-1, 0, 0), z_dir=(0, 0, -1))):
        Polygon((16.124183204, 71.846614511), (17.32726344, 72.909964513), (15.112306651, 74.06926017), (14.924232099, 72.474662025), align=None)
    extrude(amount=-BOSS_EXTRUDE2_17_DEPTH)


with BuildPart() as body_19:
    # Sketch4 → Boss-Extrude2 18 (new body)
    with BuildSketch(Plane(origin=(0, 0, -30.970633743), x_dir=(-1, 0, 0), z_dir=(0, 0, -1))):
        Polygon((18.306905619, 70.536944803), (19.587286848, 71.505830344), (17.466796006, 72.830035234), (17.158131367, 71.254331764), align=None)
    extrude(amount=-BOSS_EXTRUDE2_18_DEPTH)


with BuildPart() as body_20:
    # Sketch4 → Boss-Extrude2 19 (new body)
    with BuildSketch(Plane(origin=(0, 0, -30.970633743), x_dir=(-1, 0, 0), z_dir=(0, 0, -1))):
        Polygon((20.383832075, 69.065249052), (21.734114948, 69.934070923), (19.720344412, 71.41553244), (19.292873465, 69.867829667), align=None)
    extrude(amount=-BOSS_EXTRUDE2_19_DEPTH)


with BuildPart() as body_21:
    # Sketch4 → Boss-Extrude2 20 (new body)
    with BuildSketch(Plane(origin=(0, 0, -30.970633743), x_dir=(-1, 0, 0), z_dir=(0, 0, -1))):
        Polygon((22.342959973, 67.440032215), (23.75534118, 68.203769479), (21.859928567, 69.833926228), (21.316121675, 68.323168356), align=None)
    extrude(amount=-BOSS_EXTRUDE2_20_DEPTH)


with BuildPart() as body_22:
    # Sketch4 → Boss-Extrude2 21 (new body)
    with BuildSketch(Plane(origin=(0, 0, -30.970633743), x_dir=(-1, 0, 0), z_dir=(0, 0, -1))):
        Polygon((24.172967476, 65.670686452), (25.639284838, 66.324925456), (23.873183775, 68.09435673), (23.216183609, 66.629274458), align=None)
    extrude(amount=-BOSS_EXTRUDE2_21_DEPTH)


with BuildPart() as body_23:
    # Sketch4 → Boss-Extrude2 22 (new body)
    with BuildSketch(Plane(origin=(0, 0, -30.970633743), x_dir=(-1, 0, 0), z_dir=(0, 0, -1))):
        Polygon((25.863278934, 63.767436846), (27.375058576, 64.308396731), (25.748475395, 66.206876953), (24.98207877, 64.795937019), align=None)
    extrude(amount=-BOSS_EXTRUDE2_22_DEPTH)


with BuildPart() as body_24:
    # Sketch4 → Boss-Extrude2 23 (new body)
    with BuildSketch(Plane(origin=(0, 0, -30.970633743), x_dir=(-1, 0, 0), z_dir=(0, 0, -1))):
        Polygon((27.404126006, 61.741282314), (28.952631324, 62.165836861), (27.474966079, 64.182394677), (26.603602018, 62.833750931), align=None)
    extrude(amount=-BOSS_EXTRUDE2_23_DEPTH)


with BuildPart() as body_25:
    # Sketch4 → Boss-Extrude2 24 (new body)
    with BuildSketch(Plane(origin=(0, 0, -30.970633743), x_dir=(-1, 0, 0), z_dir=(0, 0, -1))):
        Polygon((28.786604106, 59.603932041), (30.362886258, 59.909627742), (29.042678407, 62.032609426), (28.071382537, 60.754055705), align=None)
    extrude(amount=-BOSS_EXTRUDE2_24_DEPTH)


solid = Compound([part.part, body_2.part, body_3.part, body_4.part, body_5.part, body_6.part, body_7.part, body_8.part, body_9.part, body_10.part, body_11.part, body_12.part, body_13.part, body_14.part, body_15.part, body_16.part, body_17.part, body_18.part, body_19.part, body_20.part, body_21.part, body_22.part, body_23.part, body_24.part, body_25.part])
